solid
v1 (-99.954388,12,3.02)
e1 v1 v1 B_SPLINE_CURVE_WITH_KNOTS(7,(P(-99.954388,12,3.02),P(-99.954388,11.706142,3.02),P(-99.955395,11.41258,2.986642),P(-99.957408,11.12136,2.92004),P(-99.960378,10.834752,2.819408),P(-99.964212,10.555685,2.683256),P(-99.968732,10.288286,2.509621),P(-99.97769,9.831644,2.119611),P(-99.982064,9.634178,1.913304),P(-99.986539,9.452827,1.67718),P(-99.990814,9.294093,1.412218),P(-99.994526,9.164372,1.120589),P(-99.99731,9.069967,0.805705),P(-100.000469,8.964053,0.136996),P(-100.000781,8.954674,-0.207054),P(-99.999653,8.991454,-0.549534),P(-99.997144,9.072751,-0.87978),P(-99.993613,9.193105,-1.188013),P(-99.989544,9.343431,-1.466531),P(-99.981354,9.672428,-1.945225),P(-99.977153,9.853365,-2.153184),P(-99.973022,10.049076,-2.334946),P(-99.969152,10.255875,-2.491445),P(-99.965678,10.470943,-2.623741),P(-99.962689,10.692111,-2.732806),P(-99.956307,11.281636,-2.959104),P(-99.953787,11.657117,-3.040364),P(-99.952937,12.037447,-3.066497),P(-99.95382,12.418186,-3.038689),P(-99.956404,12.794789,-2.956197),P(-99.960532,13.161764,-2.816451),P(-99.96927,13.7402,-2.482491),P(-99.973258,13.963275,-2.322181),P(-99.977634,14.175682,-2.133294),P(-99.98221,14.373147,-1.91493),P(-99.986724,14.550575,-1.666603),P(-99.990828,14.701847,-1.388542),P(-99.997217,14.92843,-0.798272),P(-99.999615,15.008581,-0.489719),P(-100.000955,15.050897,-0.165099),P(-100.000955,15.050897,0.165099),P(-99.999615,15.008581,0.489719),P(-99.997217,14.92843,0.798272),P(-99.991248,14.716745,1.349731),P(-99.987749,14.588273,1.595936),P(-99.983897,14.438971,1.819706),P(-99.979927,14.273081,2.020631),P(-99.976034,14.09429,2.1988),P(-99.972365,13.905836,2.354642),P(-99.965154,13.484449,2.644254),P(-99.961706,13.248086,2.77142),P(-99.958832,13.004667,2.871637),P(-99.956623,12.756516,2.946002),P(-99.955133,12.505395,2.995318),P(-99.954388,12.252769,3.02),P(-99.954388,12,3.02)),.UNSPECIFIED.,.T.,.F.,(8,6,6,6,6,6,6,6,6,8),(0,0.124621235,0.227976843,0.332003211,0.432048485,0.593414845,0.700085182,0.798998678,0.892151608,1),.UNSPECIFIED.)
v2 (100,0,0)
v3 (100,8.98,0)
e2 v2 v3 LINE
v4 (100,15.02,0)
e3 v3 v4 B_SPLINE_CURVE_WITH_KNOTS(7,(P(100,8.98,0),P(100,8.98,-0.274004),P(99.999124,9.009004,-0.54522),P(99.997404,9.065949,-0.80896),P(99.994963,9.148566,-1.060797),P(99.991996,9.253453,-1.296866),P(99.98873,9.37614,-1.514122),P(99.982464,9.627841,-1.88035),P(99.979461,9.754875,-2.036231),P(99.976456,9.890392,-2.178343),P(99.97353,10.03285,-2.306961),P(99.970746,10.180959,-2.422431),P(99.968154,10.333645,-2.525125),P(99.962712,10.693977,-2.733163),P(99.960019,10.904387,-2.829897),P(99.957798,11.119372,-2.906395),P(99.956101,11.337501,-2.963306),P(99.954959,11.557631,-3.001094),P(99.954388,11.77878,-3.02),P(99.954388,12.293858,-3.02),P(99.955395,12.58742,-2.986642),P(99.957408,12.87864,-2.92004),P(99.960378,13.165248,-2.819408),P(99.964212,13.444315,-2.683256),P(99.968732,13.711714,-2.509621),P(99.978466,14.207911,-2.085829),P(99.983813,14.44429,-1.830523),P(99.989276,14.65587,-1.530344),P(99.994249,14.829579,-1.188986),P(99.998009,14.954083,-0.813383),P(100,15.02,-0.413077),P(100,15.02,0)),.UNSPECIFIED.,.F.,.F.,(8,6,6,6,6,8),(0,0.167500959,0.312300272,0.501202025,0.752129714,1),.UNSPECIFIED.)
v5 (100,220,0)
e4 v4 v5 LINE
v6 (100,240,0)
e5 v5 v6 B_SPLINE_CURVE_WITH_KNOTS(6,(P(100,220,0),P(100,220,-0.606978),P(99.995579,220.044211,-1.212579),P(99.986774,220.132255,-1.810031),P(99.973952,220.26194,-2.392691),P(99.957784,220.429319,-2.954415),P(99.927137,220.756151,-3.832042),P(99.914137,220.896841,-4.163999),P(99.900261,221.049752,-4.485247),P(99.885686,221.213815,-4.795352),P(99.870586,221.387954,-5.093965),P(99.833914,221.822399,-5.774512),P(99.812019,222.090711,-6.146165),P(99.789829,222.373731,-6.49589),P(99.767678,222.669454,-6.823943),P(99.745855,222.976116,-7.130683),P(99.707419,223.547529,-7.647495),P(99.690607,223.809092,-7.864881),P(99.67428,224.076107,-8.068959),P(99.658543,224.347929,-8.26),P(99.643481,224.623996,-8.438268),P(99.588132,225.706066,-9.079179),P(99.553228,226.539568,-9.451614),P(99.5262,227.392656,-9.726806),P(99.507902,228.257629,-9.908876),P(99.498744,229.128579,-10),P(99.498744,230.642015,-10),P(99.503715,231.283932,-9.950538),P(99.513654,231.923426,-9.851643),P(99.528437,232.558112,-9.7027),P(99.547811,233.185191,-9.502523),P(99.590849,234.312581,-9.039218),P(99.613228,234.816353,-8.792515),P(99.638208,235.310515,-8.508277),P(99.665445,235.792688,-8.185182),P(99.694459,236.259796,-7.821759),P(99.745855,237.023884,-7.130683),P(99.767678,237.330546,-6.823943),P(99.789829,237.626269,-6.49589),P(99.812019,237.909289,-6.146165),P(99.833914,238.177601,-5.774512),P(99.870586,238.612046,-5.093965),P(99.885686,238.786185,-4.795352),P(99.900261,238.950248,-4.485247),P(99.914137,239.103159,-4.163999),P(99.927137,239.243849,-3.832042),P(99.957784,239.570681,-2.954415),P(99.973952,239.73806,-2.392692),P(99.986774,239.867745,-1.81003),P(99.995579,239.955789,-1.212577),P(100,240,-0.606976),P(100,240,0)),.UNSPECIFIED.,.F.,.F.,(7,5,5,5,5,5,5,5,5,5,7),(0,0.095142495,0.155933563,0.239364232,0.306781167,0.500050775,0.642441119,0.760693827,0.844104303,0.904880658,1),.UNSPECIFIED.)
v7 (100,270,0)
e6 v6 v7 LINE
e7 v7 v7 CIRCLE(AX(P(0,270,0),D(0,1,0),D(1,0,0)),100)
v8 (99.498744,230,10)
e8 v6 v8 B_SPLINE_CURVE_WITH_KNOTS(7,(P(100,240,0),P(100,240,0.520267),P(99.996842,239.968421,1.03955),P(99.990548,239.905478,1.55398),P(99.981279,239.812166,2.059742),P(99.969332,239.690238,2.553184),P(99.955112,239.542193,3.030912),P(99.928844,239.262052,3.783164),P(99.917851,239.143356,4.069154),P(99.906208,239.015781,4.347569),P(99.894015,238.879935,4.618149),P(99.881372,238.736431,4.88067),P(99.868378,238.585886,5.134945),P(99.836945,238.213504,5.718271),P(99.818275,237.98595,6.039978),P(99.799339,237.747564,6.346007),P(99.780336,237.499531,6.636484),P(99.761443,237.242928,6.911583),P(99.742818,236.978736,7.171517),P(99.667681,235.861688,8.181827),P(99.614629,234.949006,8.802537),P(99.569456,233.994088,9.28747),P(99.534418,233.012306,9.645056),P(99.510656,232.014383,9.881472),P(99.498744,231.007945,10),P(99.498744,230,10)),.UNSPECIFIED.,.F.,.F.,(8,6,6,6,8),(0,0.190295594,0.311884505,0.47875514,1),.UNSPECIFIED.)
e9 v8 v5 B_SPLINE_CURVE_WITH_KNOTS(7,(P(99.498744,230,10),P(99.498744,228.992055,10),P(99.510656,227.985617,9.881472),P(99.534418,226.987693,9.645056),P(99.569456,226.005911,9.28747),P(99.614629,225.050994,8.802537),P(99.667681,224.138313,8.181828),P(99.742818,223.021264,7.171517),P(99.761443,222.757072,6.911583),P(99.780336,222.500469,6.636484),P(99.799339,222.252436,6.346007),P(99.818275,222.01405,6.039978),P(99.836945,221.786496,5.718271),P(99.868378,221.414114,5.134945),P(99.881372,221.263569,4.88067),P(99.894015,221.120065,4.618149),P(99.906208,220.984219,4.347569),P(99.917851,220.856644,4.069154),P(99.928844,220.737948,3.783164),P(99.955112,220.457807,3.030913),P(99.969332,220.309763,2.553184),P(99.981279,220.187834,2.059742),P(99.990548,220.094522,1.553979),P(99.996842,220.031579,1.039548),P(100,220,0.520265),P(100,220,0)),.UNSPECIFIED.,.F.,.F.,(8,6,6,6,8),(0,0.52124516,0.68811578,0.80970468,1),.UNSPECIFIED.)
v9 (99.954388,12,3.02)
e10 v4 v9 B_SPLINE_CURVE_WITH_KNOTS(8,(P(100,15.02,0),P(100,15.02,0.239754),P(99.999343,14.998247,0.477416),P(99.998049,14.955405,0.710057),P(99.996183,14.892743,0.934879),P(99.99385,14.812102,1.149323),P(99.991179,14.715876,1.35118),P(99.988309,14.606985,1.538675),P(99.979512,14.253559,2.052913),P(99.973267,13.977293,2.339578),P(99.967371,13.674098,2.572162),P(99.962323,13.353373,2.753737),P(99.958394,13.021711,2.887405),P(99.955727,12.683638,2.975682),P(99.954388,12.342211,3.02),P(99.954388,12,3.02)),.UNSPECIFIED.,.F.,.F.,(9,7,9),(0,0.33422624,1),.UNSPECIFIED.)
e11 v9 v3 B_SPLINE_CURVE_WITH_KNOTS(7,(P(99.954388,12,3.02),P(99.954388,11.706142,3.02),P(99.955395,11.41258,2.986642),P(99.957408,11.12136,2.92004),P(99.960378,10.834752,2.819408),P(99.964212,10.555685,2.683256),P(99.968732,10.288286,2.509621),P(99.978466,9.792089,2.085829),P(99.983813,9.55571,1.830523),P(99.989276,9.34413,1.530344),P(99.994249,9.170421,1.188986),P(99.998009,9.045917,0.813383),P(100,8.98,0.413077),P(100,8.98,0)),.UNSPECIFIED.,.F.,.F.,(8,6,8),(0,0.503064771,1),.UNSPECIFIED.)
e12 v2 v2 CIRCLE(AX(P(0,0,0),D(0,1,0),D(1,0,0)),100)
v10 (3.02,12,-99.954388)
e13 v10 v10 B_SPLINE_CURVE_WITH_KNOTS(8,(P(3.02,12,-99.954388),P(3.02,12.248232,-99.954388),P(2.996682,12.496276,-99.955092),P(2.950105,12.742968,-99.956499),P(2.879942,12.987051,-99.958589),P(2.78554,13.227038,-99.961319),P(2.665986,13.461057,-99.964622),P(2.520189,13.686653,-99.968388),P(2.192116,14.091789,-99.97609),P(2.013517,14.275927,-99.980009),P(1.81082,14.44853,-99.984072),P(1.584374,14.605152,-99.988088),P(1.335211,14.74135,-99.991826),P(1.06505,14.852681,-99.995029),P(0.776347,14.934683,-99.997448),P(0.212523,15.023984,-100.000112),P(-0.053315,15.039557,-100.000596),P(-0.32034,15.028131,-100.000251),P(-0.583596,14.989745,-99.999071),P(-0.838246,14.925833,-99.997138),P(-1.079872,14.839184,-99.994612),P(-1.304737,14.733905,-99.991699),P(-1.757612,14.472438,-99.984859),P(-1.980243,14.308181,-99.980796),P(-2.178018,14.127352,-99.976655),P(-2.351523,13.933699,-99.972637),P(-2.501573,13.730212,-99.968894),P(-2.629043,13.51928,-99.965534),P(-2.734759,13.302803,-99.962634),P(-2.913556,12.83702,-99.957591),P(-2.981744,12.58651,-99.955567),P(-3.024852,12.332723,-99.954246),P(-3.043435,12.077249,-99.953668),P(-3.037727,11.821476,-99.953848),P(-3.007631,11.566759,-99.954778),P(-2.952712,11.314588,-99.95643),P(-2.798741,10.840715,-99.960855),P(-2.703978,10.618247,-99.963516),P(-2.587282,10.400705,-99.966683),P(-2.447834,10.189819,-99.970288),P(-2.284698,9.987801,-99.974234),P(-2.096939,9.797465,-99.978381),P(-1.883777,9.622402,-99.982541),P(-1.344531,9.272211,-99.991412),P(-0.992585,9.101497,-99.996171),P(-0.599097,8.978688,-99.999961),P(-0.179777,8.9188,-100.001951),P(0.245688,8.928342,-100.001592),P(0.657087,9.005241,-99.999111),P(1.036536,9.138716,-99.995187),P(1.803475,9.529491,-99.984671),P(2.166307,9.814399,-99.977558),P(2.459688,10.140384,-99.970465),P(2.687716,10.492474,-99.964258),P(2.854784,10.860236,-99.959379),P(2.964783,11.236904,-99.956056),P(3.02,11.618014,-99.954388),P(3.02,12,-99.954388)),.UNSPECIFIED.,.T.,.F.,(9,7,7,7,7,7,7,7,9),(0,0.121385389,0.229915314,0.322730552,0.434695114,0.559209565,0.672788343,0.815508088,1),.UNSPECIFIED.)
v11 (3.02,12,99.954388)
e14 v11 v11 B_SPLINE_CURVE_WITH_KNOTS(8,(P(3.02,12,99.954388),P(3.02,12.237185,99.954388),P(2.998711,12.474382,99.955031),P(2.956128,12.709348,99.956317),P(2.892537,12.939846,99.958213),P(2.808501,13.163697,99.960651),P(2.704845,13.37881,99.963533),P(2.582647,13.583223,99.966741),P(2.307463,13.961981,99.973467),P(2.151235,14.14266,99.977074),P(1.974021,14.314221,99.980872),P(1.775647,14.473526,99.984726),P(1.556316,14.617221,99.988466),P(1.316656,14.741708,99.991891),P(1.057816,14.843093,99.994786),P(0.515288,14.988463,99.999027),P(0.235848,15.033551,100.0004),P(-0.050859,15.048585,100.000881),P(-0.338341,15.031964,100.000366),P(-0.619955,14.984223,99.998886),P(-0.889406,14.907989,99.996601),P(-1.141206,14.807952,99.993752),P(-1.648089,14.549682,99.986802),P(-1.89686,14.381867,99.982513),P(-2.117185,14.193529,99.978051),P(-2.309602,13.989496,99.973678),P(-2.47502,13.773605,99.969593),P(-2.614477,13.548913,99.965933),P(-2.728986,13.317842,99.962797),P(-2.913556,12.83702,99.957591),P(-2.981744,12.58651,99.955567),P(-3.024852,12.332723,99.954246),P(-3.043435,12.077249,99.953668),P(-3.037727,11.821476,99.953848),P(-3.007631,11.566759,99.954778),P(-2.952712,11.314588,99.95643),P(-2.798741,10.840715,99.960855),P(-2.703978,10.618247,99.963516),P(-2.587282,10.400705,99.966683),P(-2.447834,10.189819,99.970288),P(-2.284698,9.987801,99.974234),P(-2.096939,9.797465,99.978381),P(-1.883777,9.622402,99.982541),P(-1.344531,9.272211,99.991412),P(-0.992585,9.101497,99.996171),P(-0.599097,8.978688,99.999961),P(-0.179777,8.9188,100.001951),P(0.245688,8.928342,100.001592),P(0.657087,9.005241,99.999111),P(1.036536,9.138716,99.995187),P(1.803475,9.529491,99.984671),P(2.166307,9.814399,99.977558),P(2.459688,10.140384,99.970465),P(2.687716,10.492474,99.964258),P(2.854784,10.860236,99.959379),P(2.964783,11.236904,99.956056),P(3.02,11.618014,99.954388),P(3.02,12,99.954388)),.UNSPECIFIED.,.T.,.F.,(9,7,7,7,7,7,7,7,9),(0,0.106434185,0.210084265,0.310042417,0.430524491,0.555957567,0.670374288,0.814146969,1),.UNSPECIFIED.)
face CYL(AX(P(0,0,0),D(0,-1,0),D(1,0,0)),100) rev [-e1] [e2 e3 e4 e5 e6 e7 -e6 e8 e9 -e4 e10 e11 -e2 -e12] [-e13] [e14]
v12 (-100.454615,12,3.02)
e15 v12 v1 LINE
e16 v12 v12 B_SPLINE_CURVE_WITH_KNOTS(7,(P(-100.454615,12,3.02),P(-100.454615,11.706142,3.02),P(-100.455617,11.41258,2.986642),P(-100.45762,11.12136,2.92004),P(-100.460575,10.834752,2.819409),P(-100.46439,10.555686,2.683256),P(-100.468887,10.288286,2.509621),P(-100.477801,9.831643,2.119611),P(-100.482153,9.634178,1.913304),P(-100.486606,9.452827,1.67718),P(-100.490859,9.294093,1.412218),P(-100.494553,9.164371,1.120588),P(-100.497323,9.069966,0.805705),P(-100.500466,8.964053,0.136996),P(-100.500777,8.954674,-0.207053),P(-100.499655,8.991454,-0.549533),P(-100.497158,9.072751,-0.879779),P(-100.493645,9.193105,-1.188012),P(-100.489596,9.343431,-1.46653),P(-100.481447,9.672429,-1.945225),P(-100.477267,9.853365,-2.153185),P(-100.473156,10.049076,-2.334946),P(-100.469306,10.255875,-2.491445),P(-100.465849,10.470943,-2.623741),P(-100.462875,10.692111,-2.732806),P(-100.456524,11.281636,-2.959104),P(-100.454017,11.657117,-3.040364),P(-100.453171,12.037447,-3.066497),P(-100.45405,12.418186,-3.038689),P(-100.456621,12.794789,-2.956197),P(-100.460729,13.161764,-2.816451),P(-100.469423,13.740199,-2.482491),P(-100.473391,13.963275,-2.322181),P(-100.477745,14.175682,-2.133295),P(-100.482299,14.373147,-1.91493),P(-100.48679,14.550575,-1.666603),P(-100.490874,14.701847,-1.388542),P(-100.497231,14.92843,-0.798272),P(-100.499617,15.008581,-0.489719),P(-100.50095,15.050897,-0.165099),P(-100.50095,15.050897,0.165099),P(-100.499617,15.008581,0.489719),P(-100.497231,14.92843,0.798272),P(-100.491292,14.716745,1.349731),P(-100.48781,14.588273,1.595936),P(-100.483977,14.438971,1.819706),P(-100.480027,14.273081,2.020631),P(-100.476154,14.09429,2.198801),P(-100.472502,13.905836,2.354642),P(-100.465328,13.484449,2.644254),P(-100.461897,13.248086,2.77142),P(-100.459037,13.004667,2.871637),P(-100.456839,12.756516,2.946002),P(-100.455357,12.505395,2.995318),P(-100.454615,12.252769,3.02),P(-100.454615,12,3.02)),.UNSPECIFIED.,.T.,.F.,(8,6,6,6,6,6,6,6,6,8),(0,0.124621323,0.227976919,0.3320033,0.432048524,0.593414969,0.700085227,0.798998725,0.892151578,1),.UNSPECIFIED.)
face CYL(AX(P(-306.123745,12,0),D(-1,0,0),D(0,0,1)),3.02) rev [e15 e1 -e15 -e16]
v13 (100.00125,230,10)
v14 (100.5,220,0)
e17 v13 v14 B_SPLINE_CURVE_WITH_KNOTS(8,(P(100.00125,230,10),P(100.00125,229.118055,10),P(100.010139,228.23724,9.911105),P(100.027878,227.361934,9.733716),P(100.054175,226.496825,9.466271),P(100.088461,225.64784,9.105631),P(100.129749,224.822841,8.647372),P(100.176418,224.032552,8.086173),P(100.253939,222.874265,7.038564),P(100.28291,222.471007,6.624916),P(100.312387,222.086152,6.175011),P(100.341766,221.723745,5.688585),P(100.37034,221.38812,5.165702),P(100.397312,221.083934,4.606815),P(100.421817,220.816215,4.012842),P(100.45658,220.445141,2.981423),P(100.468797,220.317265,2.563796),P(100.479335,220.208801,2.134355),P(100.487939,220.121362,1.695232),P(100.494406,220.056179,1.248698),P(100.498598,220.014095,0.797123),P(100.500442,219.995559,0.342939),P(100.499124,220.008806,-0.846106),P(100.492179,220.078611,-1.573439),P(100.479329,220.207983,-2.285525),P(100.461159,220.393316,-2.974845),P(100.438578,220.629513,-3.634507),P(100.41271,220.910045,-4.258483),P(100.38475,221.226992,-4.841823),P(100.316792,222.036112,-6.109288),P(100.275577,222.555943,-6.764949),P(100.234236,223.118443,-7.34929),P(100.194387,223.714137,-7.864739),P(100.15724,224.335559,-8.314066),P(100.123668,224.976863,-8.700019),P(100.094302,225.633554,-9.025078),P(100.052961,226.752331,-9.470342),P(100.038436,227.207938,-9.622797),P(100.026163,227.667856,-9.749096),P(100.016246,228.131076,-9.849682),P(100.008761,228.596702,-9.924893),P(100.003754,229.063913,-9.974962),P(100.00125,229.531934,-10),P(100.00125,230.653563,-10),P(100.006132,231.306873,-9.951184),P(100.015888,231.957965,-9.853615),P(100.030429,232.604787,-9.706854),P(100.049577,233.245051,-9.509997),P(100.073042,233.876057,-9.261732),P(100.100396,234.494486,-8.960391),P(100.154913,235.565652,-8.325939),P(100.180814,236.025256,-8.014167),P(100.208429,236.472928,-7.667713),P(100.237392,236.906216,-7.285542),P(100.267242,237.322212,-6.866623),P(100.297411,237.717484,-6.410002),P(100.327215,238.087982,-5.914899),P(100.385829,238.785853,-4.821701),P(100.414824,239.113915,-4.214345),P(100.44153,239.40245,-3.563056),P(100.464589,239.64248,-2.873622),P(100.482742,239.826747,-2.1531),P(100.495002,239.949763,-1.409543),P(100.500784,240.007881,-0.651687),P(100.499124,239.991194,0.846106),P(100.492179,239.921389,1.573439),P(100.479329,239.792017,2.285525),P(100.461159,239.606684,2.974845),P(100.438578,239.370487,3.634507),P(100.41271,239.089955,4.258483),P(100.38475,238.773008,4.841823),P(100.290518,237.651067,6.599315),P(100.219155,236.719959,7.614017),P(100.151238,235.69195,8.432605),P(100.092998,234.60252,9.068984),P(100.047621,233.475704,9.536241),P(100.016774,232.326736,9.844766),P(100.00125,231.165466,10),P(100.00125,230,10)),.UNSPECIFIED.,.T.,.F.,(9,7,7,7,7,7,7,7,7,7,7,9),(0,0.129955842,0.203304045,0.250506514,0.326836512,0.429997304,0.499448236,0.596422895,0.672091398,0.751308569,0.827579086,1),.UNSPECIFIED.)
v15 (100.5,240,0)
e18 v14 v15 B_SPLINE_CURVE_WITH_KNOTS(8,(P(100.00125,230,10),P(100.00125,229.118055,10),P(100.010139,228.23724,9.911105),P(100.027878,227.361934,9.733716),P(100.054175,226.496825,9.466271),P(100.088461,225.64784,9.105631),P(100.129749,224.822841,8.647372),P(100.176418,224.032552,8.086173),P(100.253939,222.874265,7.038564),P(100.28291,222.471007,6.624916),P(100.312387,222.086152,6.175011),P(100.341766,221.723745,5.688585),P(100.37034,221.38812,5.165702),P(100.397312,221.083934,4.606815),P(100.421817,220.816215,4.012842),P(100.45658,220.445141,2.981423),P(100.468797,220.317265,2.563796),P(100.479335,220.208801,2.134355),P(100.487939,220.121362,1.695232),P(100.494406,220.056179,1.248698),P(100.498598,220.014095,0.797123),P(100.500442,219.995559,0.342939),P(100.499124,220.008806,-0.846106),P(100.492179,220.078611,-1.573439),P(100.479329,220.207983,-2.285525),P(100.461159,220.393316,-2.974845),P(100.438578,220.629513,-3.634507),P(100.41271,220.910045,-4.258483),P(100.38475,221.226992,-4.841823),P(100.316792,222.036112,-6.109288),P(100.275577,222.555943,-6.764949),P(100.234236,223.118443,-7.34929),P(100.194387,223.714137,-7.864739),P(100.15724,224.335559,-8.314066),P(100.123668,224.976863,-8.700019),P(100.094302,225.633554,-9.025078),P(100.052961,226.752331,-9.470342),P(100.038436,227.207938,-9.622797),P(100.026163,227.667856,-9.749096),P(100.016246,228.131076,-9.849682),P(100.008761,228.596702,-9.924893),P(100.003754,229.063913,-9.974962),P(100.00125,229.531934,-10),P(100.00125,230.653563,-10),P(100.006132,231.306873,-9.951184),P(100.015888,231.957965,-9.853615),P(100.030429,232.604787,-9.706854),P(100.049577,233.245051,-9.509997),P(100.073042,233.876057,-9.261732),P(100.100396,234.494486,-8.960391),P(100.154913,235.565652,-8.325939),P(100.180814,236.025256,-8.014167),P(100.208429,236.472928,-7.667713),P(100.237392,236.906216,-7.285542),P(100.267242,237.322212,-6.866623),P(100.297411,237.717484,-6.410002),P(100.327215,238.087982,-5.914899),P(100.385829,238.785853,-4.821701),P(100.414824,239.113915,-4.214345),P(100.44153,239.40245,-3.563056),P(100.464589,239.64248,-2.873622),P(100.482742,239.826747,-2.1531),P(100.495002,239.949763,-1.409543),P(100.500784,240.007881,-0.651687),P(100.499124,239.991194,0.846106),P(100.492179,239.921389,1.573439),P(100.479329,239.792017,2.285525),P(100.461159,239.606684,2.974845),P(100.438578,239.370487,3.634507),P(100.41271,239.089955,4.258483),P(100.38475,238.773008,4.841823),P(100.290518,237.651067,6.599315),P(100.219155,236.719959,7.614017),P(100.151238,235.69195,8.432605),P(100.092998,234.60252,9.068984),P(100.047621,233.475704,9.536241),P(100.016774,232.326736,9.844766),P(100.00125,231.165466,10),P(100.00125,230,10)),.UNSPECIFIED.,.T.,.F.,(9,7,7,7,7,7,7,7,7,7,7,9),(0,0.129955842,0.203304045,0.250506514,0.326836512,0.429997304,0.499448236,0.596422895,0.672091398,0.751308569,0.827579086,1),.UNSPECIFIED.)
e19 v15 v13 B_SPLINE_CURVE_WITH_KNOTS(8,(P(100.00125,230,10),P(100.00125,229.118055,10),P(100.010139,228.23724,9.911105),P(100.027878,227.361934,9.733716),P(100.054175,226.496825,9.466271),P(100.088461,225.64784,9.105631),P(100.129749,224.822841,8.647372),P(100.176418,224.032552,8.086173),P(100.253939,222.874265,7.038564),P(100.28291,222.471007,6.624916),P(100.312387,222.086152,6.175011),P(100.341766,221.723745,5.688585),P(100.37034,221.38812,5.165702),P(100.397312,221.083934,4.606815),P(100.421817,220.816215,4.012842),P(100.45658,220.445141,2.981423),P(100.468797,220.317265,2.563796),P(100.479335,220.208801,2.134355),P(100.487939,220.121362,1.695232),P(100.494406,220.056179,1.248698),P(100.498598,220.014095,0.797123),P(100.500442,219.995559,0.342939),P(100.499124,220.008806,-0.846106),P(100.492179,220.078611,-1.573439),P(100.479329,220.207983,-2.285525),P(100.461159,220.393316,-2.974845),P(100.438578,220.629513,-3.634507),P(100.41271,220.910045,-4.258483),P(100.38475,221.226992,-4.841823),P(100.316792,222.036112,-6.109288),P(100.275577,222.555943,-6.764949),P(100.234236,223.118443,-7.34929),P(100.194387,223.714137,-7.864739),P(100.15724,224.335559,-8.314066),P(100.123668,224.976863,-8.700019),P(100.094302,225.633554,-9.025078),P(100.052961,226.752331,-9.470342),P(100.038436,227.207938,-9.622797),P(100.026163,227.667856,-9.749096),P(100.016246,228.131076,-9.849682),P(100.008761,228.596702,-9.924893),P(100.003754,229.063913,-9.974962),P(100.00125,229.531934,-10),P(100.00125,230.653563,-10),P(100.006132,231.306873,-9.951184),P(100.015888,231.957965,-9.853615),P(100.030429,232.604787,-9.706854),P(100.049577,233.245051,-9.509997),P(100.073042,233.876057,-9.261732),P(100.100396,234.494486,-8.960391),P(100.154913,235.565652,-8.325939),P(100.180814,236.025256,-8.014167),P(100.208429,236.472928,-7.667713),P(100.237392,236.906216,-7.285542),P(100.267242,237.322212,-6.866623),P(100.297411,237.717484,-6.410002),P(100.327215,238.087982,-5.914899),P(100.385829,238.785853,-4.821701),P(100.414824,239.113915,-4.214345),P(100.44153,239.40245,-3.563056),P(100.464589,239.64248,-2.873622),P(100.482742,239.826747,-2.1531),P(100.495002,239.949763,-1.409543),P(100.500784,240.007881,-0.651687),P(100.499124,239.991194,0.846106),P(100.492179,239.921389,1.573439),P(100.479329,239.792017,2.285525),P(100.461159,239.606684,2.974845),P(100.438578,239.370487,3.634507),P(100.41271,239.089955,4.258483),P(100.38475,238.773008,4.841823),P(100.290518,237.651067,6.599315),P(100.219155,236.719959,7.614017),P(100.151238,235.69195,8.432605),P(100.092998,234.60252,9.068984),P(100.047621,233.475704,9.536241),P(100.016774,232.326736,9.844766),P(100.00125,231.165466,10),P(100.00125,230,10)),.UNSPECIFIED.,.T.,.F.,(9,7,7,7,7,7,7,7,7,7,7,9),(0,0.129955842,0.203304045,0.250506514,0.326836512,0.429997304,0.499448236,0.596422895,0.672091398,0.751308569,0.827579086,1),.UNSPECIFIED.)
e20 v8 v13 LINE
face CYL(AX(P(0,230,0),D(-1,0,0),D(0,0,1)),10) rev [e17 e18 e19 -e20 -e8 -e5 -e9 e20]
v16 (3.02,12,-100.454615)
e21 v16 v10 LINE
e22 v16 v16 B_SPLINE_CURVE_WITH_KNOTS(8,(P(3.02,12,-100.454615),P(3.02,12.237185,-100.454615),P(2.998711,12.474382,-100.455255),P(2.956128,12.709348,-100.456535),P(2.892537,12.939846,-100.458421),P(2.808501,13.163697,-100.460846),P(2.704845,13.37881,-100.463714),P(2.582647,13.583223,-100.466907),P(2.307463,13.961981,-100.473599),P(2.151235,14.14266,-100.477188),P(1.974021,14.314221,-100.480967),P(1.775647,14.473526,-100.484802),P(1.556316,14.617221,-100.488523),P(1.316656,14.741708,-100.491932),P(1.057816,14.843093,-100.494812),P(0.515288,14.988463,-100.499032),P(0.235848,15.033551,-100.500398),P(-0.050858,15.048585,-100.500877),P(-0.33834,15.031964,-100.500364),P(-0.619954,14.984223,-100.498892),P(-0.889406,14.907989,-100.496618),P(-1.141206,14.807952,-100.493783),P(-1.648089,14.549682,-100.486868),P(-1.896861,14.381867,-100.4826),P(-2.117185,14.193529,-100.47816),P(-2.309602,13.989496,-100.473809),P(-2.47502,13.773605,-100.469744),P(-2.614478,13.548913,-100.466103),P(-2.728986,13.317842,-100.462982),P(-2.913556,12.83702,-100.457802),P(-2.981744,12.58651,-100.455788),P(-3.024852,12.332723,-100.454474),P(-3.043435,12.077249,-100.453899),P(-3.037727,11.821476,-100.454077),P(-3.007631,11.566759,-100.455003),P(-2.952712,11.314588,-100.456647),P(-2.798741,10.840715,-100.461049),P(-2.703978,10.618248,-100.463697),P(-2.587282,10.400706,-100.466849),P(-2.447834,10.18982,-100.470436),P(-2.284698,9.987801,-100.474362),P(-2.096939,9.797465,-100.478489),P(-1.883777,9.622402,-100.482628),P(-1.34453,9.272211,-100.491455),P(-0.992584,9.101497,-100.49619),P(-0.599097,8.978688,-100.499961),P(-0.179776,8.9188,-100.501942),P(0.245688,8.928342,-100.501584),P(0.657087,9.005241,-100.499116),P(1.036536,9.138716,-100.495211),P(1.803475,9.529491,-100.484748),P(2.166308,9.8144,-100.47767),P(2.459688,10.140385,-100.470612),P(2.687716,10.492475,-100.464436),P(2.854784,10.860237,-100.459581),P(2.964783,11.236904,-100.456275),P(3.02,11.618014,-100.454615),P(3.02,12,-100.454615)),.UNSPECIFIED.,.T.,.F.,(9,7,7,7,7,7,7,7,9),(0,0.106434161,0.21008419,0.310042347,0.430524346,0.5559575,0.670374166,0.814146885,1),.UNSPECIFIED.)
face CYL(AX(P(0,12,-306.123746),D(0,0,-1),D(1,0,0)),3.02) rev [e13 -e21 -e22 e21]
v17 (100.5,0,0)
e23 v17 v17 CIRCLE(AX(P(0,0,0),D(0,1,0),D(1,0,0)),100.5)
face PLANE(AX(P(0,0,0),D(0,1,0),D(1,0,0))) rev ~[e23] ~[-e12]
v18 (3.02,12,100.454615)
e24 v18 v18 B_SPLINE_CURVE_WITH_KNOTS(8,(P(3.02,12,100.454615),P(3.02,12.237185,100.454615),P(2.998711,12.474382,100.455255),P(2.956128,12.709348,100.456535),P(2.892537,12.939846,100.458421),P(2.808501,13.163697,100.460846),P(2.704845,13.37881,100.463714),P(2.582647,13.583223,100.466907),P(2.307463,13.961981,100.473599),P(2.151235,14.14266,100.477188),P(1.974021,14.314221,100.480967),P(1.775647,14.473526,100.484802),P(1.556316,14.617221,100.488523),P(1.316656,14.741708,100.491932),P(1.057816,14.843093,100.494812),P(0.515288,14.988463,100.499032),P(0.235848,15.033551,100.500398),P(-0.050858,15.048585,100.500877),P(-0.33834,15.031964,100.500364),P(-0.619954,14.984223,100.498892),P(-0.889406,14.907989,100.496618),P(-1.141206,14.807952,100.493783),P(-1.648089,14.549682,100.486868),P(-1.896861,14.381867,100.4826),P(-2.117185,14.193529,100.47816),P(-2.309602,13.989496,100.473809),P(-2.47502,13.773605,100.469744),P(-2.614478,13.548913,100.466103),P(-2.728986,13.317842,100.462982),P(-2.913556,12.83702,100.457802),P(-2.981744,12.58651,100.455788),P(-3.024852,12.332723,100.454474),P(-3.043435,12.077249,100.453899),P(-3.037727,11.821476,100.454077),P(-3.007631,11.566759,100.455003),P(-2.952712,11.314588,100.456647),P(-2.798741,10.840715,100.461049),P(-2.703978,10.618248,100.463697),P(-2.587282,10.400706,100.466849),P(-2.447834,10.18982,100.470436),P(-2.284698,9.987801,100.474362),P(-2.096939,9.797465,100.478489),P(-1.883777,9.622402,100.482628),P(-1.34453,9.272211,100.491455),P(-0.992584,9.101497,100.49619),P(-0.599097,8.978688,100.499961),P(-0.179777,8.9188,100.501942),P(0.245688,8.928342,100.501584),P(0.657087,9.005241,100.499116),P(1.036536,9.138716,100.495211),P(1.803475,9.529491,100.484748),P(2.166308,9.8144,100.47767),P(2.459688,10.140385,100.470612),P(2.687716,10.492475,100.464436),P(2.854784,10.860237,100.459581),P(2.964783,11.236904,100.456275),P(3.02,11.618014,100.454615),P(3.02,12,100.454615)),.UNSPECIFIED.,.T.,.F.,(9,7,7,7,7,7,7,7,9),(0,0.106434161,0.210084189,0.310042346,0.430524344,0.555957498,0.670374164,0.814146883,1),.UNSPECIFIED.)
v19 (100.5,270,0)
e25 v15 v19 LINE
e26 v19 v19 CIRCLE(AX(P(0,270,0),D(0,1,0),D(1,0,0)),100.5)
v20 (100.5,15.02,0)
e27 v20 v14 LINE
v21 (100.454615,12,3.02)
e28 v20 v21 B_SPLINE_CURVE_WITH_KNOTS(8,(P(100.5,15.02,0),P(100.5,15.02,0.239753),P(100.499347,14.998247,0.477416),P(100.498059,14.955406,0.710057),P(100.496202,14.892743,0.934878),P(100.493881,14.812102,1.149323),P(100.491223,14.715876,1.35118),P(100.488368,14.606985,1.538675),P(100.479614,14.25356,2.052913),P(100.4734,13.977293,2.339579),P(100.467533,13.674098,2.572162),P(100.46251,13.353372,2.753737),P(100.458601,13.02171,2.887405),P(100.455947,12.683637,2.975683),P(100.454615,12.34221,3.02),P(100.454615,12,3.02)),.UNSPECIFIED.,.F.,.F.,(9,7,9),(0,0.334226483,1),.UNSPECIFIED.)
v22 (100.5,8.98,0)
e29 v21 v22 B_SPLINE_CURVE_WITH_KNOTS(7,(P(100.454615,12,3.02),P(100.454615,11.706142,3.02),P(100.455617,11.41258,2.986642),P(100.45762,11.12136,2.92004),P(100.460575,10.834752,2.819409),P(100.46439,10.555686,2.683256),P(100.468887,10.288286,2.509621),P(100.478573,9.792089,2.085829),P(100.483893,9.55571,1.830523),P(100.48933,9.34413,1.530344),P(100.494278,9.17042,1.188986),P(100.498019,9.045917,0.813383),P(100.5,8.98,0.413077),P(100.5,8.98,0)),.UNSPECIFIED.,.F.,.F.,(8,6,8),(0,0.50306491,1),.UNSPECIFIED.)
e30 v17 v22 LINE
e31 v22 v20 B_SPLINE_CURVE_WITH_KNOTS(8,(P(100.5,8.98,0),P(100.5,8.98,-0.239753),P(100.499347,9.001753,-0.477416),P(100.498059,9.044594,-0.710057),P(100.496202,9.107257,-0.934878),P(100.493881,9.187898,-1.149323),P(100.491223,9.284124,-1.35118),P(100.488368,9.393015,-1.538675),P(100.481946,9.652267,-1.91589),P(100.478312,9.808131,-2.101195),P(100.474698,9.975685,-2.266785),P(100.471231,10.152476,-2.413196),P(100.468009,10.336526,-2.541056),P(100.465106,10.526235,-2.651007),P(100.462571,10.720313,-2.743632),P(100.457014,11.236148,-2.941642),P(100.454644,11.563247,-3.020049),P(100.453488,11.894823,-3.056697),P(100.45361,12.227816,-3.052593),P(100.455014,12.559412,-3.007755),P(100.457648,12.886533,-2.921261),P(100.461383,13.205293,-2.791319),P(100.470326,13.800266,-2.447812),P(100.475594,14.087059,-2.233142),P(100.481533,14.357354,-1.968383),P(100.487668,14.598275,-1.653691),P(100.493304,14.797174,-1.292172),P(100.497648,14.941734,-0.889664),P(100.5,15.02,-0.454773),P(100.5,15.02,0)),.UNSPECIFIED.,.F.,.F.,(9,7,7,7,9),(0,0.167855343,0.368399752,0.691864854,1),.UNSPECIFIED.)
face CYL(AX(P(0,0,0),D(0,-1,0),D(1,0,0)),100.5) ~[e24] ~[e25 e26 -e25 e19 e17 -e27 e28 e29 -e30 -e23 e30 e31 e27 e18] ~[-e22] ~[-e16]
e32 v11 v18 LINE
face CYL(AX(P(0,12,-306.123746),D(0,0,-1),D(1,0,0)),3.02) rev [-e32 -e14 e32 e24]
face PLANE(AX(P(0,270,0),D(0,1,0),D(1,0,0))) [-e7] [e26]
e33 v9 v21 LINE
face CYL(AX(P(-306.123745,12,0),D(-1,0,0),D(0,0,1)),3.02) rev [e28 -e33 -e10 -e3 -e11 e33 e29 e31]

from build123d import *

# Parameters (mm, degrees)
SKETCH_1_R               = 100.5
SKETCH_1_R_2             = 100
EXTRUDE_1_DEPTH          = 270
CUT_EXTRUDE_1_DEPTH      = 306.123745389
CUT_EXTRUDE_1_DEPTH_BACK = 306.123745389
SKETCH_3_R               = 3.02
CUT_EXTRUDE_2_REACH      = 307.124
CUT_EXTRUDE_2_END_RADIUS = 100.5
SKETCH_3_3_R             = 10
CUT_EXTRUDE_3_DEPTH      = 306.123745543
CUT_EXTRUDE_3_DEPTH_BACK = 306.123745543
SKETCH_6_R               = 3.02


with BuildPart() as part:
    # 草图1 → 拉伸-薄壁1 (new body)
    with BuildSketch(Plane(origin=(0, 0, 0), x_dir=(1, 0, 0), z_dir=(0, 1, 0))):
        Circle(SKETCH_1_R)
        Circle(SKETCH_1_R_2, mode=Mode.SUBTRACT)
    extrude(amount=EXTRUDE_1_DEPTH)

    # 草图3 → 切除-拉伸1 (cut, two sides: drawn at the far end of the back side and taken through both)
    with BuildSketch(Plane(origin=(0, 0, 0), x_dir=(0, 0, -1), z_dir=(1, 0, 0)).offset(-CUT_EXTRUDE_1_DEPTH_BACK)):
        with Locations(Location((0, 12, 0), (0, 0, 180))):
            Circle(SKETCH_3_R)
    extrude(amount=CUT_EXTRUDE_1_DEPTH + CUT_EXTRUDE_1_DEPTH_BACK, mode=Mode.SUBTRACT)

    # 切除-拉伸2: up to this cylinder (the profile starts inside it)
    cut_extrude_2_end = Plane(origin=(0, 230, 0), z_dir=(0, -1, 0)) * Cylinder(CUT_EXTRUDE_2_END_RADIUS, 816.248, mode=Mode.PRIVATE)
    # 草图3<3> → 切除-拉伸2 (cut, up to the surface)
    with BuildSketch(Plane(origin=(0, 0, 0), x_dir=(0, 0, -1), z_dir=(1, 0, 0)), mode=Mode.PRIVATE) as cut_extrude_2_sk1:
        with Locations(Location((0, 230, 0), (0, 0, 180))):
            Circle(SKETCH_3_3_R)
    cut_extrude_2_tool1 = extrude(cut_extrude_2_sk1.sketch, amount=CUT_EXTRUDE_2_REACH, mode=Mode.PRIVATE) & cut_extrude_2_end
    add(cut_extrude_2_tool1.solids().sort_by_distance((0, 230, 0))[0], mode=Mode.SUBTRACT)

    # 草图6 → 切除-拉伸3 (cut, two sides: drawn at the far end of the back side and taken through both)
    with BuildSketch(Plane.XY.offset(-CUT_EXTRUDE_3_DEPTH_BACK)):
        with Locations((0, 12)):
            Circle(SKETCH_6_R)
    extrude(amount=CUT_EXTRUDE_3_DEPTH + CUT_EXTRUDE_3_DEPTH_BACK, mode=Mode.SUBTRACT)


solid = part.part
